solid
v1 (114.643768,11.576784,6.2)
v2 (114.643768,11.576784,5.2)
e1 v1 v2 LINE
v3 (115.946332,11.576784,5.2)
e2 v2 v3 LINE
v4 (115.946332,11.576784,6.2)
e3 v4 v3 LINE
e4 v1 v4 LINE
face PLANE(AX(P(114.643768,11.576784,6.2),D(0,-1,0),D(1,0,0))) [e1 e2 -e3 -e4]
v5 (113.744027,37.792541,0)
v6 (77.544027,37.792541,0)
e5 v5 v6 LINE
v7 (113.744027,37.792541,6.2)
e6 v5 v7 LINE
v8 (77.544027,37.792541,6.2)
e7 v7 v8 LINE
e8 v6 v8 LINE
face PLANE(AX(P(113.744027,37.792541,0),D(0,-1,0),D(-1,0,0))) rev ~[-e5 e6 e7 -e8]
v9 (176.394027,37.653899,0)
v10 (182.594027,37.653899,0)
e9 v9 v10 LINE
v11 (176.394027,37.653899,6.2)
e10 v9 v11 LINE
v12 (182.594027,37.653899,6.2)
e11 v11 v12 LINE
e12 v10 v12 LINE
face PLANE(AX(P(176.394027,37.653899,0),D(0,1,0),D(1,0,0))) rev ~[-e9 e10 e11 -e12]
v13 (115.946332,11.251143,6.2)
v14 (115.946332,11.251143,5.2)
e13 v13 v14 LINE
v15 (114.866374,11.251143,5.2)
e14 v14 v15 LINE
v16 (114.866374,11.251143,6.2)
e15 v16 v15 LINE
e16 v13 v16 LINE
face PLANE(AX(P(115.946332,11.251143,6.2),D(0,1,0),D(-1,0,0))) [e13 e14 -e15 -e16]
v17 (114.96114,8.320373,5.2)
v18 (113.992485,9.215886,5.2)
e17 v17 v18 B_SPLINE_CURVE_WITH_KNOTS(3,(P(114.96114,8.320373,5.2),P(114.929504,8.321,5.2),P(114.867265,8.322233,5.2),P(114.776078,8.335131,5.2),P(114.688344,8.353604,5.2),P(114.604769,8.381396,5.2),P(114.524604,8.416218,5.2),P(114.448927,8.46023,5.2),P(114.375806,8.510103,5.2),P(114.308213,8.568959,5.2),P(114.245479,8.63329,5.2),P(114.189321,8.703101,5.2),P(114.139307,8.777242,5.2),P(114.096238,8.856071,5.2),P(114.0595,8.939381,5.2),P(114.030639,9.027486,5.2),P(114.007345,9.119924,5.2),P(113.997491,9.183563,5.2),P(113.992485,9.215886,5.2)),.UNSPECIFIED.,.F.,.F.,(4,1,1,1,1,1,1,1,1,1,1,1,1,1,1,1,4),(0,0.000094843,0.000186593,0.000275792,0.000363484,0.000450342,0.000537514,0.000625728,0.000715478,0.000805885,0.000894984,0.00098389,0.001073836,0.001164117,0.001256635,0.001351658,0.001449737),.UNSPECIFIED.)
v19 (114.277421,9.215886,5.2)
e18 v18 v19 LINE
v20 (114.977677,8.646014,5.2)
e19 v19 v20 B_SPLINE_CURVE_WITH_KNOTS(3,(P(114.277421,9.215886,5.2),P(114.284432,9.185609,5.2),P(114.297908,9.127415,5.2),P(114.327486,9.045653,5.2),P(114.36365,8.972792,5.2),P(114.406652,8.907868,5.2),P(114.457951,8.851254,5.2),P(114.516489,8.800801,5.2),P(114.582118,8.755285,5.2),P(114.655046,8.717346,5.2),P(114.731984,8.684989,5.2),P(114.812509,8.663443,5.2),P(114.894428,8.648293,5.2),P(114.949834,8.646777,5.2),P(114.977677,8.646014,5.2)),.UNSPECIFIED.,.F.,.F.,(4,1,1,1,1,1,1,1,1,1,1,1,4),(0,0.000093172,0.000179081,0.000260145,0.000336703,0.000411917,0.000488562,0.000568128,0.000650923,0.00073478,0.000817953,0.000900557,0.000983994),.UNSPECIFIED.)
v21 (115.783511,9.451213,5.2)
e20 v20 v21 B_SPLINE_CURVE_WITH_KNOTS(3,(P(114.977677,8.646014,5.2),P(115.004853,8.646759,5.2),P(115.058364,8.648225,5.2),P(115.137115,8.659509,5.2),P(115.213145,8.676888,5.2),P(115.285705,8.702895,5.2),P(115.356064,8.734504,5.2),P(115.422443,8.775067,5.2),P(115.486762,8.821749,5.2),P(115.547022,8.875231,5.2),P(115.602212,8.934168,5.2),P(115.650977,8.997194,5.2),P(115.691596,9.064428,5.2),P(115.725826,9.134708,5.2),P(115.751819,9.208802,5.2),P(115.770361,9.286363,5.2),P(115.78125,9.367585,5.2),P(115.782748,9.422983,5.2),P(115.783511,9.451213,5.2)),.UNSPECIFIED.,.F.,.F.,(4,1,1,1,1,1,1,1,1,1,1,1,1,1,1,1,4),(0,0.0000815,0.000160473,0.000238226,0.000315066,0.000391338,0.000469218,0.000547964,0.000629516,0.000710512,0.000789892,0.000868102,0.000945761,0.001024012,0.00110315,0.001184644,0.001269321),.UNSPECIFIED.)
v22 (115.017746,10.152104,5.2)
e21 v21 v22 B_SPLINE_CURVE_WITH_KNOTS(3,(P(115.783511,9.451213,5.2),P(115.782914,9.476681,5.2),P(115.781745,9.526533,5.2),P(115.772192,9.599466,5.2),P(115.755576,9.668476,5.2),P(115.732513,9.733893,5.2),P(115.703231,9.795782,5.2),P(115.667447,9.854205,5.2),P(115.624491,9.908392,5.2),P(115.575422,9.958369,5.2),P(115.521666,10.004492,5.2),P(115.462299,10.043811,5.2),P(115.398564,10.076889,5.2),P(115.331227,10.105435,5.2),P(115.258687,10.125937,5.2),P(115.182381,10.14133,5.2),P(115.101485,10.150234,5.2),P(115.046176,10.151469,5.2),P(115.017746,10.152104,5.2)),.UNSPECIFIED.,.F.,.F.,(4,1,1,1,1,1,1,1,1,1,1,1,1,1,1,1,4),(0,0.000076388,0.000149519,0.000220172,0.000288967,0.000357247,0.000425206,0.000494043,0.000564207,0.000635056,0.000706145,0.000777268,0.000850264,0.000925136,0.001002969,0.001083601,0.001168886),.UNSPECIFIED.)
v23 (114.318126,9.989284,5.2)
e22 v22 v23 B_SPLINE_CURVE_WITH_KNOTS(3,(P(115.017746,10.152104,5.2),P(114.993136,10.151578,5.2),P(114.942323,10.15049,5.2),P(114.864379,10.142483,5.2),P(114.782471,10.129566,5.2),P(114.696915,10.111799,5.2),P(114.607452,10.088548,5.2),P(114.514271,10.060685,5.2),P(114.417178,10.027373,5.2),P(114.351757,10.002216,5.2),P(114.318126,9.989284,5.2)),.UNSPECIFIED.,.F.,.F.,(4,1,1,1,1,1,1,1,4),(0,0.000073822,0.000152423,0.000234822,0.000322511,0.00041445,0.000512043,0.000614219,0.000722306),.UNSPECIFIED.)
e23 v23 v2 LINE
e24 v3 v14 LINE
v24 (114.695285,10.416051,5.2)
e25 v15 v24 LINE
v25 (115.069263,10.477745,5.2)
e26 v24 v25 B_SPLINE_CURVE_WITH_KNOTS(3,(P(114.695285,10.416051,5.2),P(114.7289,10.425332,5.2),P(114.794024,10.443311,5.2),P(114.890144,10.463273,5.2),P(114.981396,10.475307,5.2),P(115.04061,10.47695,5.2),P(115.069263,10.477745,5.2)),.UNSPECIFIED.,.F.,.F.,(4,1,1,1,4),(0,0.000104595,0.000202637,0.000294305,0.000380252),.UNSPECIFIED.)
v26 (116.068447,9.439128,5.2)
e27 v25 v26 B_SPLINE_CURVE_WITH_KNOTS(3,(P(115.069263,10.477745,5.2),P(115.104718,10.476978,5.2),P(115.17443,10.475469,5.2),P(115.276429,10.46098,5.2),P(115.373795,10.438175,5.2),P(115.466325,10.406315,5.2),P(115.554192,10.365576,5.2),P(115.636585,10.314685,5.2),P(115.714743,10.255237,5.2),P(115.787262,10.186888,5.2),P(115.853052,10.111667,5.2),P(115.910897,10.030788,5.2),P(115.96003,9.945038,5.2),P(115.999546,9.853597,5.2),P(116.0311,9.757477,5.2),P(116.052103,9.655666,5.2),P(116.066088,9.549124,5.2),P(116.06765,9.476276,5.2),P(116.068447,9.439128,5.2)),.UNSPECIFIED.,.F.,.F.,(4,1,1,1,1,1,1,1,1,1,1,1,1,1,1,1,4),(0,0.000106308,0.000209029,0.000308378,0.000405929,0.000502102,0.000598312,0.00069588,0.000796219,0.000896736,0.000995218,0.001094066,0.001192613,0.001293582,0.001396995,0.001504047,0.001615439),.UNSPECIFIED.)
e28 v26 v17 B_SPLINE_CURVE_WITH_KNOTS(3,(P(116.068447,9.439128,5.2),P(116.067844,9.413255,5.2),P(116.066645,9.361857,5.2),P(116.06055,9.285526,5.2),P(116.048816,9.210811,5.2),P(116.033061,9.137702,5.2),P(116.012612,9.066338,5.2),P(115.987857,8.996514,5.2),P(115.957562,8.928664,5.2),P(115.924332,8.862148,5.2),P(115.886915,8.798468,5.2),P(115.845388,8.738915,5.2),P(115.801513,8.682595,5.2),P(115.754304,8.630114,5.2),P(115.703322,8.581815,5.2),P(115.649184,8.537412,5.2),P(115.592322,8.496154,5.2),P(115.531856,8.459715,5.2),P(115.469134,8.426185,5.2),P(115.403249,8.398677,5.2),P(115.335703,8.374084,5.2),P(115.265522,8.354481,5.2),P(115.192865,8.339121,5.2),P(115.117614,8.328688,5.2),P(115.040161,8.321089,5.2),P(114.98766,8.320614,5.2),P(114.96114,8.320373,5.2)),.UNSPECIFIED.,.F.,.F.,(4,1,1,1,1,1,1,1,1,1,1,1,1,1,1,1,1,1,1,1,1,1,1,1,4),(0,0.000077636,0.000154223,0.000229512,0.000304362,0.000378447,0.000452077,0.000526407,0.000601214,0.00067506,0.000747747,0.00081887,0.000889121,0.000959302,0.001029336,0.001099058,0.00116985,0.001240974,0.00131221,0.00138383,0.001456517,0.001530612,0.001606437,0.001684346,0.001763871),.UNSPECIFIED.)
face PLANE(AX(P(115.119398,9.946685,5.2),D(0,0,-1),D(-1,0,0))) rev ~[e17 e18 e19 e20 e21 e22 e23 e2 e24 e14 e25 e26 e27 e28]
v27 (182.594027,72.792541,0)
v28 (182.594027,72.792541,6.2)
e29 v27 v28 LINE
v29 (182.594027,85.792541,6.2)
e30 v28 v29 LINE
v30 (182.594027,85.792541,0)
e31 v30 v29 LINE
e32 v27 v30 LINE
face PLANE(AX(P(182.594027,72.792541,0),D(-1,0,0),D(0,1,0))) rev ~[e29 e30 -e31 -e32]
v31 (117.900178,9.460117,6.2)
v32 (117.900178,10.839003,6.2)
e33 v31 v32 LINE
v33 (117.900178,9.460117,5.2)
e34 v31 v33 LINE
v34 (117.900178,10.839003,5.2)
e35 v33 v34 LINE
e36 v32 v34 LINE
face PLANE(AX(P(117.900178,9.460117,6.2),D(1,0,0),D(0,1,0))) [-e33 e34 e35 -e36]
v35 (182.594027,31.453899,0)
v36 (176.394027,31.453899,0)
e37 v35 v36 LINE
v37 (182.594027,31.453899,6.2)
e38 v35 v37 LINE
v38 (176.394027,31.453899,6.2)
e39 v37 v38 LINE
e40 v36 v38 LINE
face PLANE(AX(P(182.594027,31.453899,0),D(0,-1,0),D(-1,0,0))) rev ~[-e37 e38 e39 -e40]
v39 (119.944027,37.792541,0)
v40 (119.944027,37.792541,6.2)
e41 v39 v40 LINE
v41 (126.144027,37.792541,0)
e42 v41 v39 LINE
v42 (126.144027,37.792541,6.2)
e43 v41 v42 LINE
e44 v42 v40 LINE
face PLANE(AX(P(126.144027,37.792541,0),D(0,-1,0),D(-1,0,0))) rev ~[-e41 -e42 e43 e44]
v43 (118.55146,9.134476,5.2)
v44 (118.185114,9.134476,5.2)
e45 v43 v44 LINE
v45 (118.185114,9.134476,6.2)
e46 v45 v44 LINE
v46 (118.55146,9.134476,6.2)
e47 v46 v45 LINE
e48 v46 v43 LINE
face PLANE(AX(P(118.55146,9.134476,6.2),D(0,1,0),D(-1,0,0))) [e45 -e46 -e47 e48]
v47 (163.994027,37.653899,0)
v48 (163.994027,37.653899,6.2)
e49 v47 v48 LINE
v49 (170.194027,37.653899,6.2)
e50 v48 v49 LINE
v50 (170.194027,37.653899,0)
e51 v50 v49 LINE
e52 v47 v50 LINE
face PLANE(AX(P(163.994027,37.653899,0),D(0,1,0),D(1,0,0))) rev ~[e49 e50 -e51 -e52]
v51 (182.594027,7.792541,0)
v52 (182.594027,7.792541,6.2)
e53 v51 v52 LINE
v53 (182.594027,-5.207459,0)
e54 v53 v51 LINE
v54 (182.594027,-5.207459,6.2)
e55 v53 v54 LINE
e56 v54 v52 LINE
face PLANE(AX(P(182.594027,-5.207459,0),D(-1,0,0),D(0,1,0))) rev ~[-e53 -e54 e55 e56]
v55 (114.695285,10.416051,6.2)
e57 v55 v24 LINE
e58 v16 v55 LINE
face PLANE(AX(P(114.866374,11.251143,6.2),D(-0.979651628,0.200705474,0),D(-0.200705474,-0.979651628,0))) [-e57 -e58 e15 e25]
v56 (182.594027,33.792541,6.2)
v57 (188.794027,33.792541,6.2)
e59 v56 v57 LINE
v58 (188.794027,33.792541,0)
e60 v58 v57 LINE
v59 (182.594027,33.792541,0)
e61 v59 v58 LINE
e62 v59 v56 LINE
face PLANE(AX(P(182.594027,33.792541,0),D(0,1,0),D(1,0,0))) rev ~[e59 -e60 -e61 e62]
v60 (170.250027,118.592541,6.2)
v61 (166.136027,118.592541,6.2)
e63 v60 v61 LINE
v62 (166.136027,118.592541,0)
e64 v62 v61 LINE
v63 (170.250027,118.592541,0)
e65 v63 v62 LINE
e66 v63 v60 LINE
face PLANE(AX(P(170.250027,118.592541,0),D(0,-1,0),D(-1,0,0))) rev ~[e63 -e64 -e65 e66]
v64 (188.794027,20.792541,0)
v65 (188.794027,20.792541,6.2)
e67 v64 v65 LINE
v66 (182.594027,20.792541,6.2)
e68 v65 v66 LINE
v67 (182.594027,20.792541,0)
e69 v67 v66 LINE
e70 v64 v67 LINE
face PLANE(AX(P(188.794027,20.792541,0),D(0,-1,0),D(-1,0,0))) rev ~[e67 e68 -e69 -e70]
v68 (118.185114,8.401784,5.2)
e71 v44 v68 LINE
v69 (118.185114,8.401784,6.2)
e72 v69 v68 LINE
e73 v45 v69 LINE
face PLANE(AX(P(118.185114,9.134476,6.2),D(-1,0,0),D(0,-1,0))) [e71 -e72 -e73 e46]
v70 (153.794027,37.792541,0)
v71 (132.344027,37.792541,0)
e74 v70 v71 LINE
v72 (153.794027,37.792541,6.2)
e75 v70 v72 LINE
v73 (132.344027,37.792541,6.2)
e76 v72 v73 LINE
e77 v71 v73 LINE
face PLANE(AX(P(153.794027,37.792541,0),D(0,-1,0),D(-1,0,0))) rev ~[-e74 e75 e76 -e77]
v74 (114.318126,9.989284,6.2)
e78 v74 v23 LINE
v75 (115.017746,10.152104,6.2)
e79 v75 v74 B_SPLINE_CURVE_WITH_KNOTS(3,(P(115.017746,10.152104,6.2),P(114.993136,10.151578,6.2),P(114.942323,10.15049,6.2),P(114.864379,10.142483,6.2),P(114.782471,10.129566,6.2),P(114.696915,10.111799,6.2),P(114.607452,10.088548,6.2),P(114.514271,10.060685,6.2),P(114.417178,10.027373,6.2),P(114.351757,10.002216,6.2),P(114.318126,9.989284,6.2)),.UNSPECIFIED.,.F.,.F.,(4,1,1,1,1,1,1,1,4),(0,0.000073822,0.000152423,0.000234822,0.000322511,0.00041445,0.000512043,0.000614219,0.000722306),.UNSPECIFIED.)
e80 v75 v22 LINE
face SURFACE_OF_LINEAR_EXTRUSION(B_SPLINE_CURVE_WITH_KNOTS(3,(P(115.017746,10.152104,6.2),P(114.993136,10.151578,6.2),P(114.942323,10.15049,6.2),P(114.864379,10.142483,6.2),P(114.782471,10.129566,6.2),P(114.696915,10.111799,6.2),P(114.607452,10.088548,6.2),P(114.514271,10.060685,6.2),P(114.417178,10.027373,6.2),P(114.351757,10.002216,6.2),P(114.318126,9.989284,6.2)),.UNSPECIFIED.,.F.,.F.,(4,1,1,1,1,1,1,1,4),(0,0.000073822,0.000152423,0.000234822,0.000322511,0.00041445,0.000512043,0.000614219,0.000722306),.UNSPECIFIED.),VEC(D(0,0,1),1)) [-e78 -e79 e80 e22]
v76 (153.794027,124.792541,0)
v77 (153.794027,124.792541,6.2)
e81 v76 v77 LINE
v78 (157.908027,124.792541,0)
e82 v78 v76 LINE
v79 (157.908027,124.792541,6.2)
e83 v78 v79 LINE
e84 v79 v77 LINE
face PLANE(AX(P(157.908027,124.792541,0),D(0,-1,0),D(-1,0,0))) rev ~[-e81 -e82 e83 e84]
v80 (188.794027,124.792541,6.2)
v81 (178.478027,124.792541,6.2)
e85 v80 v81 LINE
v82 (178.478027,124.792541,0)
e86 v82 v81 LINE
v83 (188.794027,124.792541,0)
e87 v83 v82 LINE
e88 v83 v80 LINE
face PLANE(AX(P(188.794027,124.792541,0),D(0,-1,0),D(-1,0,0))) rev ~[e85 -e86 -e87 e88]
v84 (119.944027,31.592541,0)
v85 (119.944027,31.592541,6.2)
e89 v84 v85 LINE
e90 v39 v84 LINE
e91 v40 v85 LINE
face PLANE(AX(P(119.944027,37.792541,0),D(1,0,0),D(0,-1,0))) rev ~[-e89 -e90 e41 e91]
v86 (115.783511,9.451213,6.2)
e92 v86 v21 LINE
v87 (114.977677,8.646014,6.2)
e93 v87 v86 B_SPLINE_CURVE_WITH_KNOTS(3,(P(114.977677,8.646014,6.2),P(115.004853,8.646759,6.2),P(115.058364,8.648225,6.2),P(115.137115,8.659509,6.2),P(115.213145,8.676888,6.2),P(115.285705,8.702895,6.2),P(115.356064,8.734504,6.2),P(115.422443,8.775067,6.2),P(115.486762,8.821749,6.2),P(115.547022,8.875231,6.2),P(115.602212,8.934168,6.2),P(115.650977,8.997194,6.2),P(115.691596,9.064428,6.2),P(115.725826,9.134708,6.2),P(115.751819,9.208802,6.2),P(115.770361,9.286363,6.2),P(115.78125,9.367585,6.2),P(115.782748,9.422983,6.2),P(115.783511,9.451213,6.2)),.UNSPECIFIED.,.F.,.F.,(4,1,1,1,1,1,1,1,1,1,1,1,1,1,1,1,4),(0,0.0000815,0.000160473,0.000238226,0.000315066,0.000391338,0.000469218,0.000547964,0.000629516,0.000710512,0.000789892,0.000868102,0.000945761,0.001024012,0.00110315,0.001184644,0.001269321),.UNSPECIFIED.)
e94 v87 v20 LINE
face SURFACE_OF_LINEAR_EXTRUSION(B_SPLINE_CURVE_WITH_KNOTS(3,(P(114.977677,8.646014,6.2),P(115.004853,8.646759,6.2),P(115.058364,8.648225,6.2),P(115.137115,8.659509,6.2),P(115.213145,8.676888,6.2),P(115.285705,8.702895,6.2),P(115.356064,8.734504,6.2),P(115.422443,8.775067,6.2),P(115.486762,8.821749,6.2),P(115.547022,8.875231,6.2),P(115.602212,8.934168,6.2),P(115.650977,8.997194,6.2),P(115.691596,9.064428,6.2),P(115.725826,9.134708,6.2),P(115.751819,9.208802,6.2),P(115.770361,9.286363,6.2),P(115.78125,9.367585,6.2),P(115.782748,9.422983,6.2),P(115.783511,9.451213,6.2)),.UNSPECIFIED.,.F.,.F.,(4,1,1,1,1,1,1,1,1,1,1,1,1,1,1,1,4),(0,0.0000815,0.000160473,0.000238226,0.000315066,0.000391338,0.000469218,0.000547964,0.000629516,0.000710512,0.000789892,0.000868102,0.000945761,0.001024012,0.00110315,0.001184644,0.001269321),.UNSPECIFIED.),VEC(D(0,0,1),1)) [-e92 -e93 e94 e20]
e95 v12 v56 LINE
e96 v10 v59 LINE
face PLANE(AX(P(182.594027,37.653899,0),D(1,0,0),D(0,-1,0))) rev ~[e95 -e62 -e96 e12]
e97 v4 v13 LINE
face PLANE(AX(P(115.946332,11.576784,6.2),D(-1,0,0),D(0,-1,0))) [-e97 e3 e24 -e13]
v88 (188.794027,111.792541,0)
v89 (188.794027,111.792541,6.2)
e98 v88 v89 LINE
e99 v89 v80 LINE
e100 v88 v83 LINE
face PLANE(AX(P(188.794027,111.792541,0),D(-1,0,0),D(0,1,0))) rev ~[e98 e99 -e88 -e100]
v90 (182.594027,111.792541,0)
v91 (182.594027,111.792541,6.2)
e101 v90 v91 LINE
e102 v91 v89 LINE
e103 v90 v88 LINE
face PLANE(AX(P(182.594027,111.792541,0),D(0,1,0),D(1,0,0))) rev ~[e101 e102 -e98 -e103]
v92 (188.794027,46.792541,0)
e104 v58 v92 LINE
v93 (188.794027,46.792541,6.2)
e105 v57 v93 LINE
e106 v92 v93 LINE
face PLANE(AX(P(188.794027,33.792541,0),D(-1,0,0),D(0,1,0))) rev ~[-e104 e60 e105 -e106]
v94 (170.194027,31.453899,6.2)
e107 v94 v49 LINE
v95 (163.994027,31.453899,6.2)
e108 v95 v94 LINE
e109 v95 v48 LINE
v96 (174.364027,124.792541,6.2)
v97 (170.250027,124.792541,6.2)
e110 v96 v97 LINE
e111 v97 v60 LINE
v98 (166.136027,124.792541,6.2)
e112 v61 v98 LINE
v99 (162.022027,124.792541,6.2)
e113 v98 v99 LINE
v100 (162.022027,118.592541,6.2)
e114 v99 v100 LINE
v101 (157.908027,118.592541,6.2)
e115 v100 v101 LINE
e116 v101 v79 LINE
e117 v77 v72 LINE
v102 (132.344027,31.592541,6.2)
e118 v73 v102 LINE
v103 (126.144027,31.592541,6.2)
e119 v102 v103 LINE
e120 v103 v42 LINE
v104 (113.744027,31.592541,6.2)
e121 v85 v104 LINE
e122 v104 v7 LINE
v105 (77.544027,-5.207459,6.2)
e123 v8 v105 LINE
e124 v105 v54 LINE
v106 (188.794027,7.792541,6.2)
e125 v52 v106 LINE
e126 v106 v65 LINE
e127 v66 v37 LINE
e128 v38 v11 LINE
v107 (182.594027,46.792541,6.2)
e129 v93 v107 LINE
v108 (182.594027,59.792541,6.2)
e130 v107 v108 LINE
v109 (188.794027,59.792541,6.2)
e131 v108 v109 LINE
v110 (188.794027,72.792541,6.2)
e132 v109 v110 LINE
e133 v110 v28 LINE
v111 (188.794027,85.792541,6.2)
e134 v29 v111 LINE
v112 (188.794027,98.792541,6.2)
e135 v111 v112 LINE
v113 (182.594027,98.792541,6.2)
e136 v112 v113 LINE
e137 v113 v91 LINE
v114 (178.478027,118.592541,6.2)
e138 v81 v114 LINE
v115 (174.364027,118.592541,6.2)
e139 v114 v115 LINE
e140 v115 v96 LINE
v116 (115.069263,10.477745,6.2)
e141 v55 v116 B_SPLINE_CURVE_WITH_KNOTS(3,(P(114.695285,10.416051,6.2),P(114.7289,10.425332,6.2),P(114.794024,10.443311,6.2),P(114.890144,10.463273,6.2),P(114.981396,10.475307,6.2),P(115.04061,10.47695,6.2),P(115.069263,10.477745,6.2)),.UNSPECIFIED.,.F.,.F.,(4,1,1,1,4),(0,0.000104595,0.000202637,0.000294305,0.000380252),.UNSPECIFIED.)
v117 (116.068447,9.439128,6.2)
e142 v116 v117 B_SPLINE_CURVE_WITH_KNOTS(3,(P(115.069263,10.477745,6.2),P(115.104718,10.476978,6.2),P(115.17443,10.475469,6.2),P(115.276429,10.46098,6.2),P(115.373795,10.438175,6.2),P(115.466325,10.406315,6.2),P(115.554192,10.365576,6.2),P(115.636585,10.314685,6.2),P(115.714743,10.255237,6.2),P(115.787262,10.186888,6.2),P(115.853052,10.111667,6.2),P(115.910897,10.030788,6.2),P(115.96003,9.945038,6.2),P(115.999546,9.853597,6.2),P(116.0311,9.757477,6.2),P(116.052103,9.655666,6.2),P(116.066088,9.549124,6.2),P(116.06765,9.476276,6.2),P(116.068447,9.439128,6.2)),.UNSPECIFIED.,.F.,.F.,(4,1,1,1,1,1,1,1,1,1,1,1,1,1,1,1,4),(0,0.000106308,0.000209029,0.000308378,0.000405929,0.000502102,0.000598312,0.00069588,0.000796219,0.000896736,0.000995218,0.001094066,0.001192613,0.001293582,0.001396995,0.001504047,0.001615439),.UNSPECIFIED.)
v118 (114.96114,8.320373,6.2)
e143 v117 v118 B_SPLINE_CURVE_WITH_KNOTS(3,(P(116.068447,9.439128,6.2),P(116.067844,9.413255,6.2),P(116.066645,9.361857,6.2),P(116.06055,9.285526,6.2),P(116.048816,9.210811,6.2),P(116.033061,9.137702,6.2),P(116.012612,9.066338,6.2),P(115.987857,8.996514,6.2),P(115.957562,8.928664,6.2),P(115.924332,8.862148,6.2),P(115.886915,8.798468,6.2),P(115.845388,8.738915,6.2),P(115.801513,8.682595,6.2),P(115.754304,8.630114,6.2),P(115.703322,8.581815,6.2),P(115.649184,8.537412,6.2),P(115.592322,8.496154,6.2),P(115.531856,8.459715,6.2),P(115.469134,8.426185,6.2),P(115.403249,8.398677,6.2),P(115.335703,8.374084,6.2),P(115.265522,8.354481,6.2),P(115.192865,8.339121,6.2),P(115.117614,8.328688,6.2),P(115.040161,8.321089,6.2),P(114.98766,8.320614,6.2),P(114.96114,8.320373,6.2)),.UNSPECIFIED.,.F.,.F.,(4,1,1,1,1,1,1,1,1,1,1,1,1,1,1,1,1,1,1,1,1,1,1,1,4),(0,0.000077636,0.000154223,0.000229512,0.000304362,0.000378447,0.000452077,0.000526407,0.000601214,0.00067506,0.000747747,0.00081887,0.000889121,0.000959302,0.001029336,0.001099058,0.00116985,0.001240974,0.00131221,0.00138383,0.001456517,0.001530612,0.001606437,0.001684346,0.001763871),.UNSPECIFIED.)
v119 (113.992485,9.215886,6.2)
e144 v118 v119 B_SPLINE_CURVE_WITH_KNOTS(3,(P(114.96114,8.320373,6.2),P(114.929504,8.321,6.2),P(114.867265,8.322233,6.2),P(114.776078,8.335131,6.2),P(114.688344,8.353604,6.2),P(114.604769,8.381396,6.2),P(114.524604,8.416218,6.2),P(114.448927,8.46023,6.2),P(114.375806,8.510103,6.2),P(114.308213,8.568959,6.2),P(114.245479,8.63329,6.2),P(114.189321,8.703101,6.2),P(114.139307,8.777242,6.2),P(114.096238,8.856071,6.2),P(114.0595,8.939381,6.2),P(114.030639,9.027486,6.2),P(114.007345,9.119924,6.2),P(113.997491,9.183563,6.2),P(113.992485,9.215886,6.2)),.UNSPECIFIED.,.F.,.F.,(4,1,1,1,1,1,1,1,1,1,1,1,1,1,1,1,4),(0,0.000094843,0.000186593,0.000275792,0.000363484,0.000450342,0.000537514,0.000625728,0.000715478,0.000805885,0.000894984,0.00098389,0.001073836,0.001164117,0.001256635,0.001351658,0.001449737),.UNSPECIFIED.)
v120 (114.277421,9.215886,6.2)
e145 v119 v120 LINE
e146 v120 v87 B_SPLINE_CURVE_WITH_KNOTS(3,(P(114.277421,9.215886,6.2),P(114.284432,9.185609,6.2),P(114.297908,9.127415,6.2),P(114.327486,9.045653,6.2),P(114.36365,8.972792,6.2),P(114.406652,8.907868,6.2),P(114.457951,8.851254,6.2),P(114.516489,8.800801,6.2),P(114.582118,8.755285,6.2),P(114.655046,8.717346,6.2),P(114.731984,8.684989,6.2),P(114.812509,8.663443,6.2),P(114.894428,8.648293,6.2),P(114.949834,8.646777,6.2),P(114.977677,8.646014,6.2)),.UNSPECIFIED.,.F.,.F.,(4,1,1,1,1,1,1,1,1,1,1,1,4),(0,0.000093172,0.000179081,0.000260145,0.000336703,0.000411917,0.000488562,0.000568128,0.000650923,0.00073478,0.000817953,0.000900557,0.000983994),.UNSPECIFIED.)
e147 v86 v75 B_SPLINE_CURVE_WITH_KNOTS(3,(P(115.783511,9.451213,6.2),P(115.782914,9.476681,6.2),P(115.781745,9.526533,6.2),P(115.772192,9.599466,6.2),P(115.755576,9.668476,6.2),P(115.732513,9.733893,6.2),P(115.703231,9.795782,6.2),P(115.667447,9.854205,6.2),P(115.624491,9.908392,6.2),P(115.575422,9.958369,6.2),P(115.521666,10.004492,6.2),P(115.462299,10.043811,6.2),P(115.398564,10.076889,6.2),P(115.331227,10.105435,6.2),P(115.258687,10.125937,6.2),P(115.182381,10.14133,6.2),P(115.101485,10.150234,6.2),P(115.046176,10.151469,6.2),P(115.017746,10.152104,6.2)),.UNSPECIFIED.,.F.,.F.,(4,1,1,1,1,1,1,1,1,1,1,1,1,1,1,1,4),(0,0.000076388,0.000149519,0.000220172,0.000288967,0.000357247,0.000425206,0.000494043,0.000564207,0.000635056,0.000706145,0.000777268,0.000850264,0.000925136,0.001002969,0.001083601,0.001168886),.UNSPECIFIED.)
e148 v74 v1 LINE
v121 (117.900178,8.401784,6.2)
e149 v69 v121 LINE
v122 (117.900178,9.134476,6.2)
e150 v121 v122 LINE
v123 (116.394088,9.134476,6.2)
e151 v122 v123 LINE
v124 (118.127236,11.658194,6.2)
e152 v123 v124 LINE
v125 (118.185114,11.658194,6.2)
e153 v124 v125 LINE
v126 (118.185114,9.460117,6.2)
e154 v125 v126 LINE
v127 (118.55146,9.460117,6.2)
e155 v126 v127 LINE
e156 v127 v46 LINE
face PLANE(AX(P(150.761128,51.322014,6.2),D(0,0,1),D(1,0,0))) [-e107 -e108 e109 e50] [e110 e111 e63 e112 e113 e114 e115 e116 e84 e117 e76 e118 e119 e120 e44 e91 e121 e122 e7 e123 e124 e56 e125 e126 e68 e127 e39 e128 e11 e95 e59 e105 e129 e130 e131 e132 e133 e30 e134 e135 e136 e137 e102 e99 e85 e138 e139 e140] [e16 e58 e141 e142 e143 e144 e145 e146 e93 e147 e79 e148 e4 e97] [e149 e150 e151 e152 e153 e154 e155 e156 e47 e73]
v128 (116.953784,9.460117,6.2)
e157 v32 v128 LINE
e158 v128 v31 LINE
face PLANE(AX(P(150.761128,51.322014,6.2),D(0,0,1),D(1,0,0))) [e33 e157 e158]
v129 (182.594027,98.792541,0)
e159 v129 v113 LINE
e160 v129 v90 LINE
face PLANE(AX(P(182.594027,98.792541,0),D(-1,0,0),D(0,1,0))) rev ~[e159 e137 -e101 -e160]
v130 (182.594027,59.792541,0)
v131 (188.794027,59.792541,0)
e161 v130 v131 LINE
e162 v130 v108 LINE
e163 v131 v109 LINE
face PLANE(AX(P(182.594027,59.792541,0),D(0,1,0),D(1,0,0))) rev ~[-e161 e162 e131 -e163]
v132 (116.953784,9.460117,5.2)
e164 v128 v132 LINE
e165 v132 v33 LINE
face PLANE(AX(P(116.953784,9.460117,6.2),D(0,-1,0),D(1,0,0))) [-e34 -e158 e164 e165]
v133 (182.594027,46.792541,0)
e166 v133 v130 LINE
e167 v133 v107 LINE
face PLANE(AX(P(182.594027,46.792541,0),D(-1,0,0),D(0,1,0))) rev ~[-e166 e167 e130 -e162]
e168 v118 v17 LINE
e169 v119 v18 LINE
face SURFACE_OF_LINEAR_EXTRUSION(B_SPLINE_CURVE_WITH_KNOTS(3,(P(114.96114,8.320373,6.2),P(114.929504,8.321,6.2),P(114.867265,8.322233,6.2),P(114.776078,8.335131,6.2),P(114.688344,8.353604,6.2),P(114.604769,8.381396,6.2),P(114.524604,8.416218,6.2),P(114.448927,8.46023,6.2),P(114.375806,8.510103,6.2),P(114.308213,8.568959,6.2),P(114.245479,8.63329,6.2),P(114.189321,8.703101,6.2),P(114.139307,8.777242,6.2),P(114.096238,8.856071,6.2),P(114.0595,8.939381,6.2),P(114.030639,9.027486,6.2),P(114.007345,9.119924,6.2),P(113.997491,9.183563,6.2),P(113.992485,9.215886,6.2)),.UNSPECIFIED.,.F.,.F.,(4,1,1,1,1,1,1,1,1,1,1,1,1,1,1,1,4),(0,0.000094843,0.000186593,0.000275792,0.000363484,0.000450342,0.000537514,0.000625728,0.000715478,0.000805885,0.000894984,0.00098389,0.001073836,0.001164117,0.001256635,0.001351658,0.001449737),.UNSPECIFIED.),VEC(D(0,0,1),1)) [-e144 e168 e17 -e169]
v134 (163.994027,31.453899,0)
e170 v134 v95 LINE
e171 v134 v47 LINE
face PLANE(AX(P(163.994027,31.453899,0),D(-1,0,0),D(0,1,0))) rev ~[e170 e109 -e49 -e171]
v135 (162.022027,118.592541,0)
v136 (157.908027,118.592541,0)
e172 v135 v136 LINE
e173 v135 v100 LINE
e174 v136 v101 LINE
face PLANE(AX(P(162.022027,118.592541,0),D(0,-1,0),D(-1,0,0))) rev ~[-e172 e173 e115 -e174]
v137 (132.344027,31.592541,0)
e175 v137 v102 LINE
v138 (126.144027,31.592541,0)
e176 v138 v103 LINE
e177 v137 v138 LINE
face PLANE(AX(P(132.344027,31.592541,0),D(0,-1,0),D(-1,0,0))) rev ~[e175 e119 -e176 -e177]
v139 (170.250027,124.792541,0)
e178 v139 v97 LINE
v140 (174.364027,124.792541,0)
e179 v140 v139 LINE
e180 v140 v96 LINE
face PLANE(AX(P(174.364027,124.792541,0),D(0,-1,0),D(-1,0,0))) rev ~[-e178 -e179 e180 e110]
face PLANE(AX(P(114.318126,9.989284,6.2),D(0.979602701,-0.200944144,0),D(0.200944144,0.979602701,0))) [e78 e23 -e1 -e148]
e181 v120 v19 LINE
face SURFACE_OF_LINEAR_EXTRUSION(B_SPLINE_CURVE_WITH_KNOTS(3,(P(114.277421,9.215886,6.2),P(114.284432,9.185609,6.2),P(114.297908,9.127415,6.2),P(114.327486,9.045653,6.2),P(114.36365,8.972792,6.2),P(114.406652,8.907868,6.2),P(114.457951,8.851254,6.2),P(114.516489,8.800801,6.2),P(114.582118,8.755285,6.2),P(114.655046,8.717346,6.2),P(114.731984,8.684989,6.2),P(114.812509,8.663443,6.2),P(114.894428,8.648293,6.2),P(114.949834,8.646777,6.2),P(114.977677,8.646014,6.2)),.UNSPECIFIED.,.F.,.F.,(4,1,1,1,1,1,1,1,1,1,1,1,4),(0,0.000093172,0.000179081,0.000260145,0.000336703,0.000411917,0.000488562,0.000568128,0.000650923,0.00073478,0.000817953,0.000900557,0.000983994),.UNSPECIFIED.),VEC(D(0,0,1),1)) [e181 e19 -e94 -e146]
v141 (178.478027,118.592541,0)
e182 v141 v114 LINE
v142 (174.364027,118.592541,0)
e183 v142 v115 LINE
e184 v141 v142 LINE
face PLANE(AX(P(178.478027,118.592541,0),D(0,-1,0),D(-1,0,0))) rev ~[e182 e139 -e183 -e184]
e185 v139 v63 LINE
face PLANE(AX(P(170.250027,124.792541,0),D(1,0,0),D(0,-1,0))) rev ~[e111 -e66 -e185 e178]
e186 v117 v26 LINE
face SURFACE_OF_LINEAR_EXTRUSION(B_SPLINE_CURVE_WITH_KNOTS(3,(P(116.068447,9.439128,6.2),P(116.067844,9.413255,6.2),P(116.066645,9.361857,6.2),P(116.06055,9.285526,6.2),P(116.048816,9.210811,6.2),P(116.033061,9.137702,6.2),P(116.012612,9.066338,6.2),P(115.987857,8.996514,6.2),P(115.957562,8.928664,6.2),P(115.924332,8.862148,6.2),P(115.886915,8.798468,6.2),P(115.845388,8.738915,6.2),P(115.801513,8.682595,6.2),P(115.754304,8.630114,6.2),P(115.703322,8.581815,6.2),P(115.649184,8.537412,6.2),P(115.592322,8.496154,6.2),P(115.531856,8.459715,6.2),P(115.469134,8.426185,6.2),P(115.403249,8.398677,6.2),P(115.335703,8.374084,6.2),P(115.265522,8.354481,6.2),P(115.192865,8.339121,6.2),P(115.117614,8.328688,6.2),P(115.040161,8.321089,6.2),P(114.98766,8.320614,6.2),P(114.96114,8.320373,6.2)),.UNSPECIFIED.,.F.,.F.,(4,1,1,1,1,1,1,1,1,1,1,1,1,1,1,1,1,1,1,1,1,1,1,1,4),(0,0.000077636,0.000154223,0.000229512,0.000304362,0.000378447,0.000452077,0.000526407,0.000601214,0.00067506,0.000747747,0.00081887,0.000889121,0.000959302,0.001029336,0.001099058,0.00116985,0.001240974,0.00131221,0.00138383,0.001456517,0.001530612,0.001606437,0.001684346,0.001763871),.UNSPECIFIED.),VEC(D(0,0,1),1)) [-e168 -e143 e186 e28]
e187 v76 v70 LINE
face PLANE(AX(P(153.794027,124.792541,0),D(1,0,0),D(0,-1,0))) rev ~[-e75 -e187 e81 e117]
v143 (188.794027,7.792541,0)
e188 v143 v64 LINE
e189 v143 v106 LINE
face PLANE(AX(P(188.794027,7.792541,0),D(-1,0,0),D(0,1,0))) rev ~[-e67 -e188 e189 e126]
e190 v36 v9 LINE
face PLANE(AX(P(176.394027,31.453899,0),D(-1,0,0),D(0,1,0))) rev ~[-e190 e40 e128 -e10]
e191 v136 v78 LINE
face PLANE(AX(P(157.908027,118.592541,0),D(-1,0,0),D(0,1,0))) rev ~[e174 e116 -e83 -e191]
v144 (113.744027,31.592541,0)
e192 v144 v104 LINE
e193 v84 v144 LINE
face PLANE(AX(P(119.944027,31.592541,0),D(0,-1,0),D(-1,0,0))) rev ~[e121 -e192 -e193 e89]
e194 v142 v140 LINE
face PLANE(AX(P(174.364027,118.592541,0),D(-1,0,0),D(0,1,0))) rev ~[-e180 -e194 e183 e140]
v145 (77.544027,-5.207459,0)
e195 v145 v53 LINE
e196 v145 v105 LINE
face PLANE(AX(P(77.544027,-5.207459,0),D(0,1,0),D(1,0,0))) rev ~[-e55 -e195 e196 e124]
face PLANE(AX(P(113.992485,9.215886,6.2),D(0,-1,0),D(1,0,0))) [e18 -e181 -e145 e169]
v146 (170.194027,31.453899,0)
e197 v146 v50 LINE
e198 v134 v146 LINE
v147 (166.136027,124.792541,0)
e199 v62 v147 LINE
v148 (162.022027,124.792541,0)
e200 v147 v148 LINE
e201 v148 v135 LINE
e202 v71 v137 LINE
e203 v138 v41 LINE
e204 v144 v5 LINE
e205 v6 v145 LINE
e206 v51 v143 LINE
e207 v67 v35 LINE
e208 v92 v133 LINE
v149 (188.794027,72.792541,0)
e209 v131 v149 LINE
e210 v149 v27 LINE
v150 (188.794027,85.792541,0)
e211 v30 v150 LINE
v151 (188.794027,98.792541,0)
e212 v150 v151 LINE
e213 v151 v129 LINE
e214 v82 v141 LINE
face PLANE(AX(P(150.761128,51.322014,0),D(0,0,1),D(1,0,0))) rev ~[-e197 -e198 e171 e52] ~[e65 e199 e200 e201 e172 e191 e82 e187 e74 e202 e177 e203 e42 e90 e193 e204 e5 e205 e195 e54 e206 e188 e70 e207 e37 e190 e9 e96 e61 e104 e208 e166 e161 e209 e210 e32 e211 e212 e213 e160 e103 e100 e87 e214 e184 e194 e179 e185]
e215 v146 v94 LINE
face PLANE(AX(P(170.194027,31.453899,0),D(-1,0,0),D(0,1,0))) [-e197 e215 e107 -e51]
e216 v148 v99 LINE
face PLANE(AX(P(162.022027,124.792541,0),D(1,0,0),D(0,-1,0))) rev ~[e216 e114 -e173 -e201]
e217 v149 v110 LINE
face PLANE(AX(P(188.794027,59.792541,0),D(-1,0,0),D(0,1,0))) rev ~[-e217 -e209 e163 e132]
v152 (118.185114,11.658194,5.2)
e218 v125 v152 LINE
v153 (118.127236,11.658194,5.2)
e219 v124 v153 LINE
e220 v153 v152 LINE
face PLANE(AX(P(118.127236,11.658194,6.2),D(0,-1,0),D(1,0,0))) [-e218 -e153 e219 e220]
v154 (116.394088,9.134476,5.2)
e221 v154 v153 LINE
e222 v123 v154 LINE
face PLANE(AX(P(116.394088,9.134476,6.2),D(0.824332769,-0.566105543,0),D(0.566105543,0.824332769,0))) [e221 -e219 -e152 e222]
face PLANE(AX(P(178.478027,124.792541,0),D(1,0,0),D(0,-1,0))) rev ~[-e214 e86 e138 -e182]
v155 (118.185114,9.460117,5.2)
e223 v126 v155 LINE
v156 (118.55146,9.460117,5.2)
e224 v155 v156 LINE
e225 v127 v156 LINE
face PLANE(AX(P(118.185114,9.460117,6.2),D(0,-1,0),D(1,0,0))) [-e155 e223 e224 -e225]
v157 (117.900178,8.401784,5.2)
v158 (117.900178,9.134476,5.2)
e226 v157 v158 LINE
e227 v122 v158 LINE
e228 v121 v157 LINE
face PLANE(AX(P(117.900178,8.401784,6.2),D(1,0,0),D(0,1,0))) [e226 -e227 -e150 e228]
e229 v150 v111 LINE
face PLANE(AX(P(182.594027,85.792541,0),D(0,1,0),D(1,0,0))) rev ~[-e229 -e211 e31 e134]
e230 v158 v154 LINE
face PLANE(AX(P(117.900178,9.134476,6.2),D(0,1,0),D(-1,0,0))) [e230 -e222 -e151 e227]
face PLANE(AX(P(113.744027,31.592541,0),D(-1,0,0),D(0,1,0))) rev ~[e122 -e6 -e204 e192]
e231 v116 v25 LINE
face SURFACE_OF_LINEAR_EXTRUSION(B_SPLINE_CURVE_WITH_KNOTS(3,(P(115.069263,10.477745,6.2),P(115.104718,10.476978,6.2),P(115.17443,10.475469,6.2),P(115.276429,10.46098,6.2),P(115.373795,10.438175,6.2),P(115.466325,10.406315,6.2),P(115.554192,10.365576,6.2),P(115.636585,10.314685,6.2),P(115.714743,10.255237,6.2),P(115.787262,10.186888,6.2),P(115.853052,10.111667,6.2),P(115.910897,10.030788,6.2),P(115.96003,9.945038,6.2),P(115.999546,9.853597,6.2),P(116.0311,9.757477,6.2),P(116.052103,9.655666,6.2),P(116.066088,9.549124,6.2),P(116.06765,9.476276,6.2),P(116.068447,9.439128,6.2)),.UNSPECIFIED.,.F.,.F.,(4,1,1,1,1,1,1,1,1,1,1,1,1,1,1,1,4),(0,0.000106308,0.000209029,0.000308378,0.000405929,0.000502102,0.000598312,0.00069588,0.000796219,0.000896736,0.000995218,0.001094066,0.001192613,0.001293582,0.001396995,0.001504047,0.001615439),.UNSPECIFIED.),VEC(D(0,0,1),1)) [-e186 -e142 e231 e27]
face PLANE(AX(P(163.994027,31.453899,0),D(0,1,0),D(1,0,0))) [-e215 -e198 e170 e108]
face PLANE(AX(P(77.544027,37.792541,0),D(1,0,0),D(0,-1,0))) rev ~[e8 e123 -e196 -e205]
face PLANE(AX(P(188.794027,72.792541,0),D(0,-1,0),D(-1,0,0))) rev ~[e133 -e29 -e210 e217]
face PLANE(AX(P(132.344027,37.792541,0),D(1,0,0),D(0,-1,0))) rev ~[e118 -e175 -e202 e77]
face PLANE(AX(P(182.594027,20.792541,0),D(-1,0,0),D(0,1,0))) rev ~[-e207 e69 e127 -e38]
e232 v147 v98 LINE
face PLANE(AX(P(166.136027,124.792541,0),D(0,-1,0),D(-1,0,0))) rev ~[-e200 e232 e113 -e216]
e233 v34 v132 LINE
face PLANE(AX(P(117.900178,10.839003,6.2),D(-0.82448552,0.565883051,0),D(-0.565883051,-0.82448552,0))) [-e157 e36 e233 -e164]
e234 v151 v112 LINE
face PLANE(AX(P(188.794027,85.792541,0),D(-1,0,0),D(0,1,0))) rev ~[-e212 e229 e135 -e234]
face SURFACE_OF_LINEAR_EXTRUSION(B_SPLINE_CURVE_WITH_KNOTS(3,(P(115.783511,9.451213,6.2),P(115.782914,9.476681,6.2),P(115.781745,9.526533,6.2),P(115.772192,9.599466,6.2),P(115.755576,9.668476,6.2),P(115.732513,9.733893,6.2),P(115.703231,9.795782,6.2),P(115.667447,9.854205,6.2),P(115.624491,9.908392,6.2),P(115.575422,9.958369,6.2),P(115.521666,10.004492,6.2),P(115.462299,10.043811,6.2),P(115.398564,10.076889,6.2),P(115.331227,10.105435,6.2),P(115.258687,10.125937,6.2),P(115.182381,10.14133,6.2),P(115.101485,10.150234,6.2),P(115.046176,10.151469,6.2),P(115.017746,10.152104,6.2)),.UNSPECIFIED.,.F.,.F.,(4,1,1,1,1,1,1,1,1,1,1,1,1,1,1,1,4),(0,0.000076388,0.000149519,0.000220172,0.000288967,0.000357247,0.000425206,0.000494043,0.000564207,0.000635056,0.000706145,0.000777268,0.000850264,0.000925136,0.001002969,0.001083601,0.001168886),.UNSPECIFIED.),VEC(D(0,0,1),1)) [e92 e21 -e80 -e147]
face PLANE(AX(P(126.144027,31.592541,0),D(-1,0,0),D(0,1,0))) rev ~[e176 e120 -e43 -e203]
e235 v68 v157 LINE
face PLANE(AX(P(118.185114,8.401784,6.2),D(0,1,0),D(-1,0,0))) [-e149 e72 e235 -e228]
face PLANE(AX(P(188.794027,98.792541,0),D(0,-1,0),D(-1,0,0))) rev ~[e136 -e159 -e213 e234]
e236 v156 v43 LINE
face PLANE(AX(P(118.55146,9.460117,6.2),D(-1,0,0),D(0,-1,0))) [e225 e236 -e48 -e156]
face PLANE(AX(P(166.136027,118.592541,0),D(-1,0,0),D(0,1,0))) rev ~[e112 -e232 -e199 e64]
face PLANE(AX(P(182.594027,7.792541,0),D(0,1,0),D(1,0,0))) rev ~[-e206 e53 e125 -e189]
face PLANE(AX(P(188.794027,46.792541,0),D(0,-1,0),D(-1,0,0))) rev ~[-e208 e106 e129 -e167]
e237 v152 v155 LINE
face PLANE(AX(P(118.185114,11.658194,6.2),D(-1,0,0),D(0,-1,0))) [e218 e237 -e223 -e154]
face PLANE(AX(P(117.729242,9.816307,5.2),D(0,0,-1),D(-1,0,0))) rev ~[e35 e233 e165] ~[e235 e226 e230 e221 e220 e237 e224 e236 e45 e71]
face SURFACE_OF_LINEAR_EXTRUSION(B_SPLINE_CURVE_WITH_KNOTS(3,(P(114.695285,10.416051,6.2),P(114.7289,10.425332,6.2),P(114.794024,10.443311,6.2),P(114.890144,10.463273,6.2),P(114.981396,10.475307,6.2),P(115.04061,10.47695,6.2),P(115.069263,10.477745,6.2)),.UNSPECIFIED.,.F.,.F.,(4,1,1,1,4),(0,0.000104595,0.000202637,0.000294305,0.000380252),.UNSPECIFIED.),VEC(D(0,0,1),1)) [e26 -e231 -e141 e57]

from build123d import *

# Parameters (mm, degrees)
SKETCH6_W           = 6.2
SKETCH6_H           = 6.2
BOSS_EXTRUDE4_DEPTH = 6.2
CUT_EXTRUDE3_DEPTH  = 1


with BuildPart() as part:
    # Sketch6 → Boss-Extrude4 (new body)
    with BuildSketch(Plane.XY):
        Polygon((157.908027241, 124.79254071), (153.794027241, 124.79254071), (153.794027241, 37.79254071), (132.344027241, 37.79254071), (132.344027241, 31.59254071), (126.144027241, 31.59254071), (126.144027241, 37.79254071), (119.944027241, 37.79254071), (119.944027241, 31.59254071), (113.744027241, 31.59254071), (113.744027241, 37.79254071), (77.544027241, 37.79254071), (77.544027241, -5.20745929), (182.594027241, -5.20745929), (182.594027241, 7.79254071), (188.794027241, 7.79254071), (188.794027241, 20.79254071), (182.594027241, 20.79254071), (182.594027241, 31.453899243), (176.394027241, 31.453899243), (176.394027241, 37.653899243), (182.594027241, 37.653899243), (182.594027241, 33.79254071), (188.794027241, 33.79254071), (188.794027241, 46.79254071), (182.594027241, 46.79254071), (182.594027241, 59.79254071), (188.794027241, 59.79254071), (188.794027241, 72.79254071), (182.594027241, 72.79254071), (182.594027241, 85.79254071), (188.794027241, 85.79254071), (188.794027241, 98.79254071), (182.594027241, 98.79254071), (182.594027241, 111.79254071), (188.794027241, 111.79254071), (188.794027241, 124.79254071), (178.478027241, 124.79254071), (178.478027241, 118.59254071), (174.364027241, 118.59254071), (174.364027241, 124.79254071), (170.250027241, 124.79254071), (170.250027241, 118.59254071), (166.136027241, 118.59254071), (166.136027241, 124.79254071), (162.022027241, 124.79254071), (162.022027241, 118.59254071), (157.908027241, 118.59254071), align=None)
        with Locations((167.094027241, 34.553899243)):
            Rectangle(SKETCH6_W, SKETCH6_H, mode=Mode.SUBTRACT)
    extrude(amount=BOSS_EXTRUDE4_DEPTH)

    # Sketch7 → Cut-Extrude3 (cut)
    with BuildSketch(Plane.XY.offset(6.2)):
        with BuildLine():
            Line((115.946331614, 11.576783669), (115.946331614, 11.251142644))
            Line((115.946331614, 11.251142644), (114.866373682, 11.251142644))
            Line((114.866373682, 11.251142644), (114.69528494, 10.416051498))
            add(Edge.make_bspline(
                [(114.69528494, 10.416051498), (114.728899911, 10.425331816), (114.794023603, 10.443310964), (114.890144334, 10.463273342), (114.981395832, 10.475306994), (115.040609919, 10.476950112), (115.069263305, 10.477745208)],
                knots=[0, 0, 0, 0, 0.000104595, 0.000202637, 0.000294305, 0.000380252, 0.000380252, 0.000380252, 0.000380252], degree=3))
            add(Edge.make_bspline(
                [(115.069263305, 10.477745208), (115.10471784, 10.476977823), (115.174430315, 10.475468954), (115.276428503, 10.460980204), (115.37379477, 10.43817471), (115.466325492, 10.40631538), (115.554191848, 10.365575836), (115.636585422, 10.314685176), (115.714742957, 10.255237083), (115.78726231, 10.186888393), (115.853052218, 10.111666641), (115.910897081, 10.030787715), (115.960030287, 9.945037622), (115.999546115, 9.853597069), (116.031100475, 9.75747698), (116.052102642, 9.655665995), (116.0660878, 9.549123772), (116.06765025, 9.476276054), (116.068446999, 9.439128421)],
                knots=[0, 0, 0, 0, 0.000106308, 0.000209029, 0.000308378, 0.000405929, 0.000502102, 0.000598312, 0.00069588, 0.000796219, 0.000896736, 0.000995218, 0.001094066, 0.001192613, 0.001293582, 0.001396995, 0.001504047, 0.001615439, 0.001615439, 0.001615439, 0.001615439], degree=3))
            add(Edge.make_bspline(
                [(116.068446999, 9.439128421), (116.067843681, 9.413254692), (116.066645197, 9.361856897), (116.060550479, 9.285526086), (116.048815936, 9.21081123), (116.033060929, 9.137702418), (116.012611736, 9.066338059), (115.987856666, 8.996513887), (115.957561698, 8.928664494), (115.924331807, 8.862147885), (115.886915359, 8.798467811), (115.845387713, 8.738914802), (115.801513304, 8.682595489), (115.754304332, 8.630113888), (115.703322001, 8.581814865), (115.649183746, 8.537411781), (115.592321565, 8.496153717), (115.531855738, 8.459715426), (115.469133628, 8.426184744), (115.40324946, 8.398676964), (115.335702967, 8.374083842), (115.265521973, 8.354480913), (115.192865443, 8.339120668), (115.117613611, 8.32868798), (115.040161146, 8.321089354), (114.987660242, 8.320613688), (114.961140308, 8.320373413)],
                knots=[0, 0, 0, 0, 7.7636e-05, 0.000154223, 0.000229512, 0.000304362, 0.000378447, 0.000452077, 0.000526407, 0.000601214, 0.00067506, 0.000747747, 0.00081887, 0.000889121, 0.000959302, 0.001029336, 0.001099058, 0.00116985, 0.001240974, 0.00131221, 0.00138383, 0.001456517, 0.001530612, 0.001606437, 0.001684346, 0.001763871, 0.001763871, 0.001763871, 0.001763871], degree=3))
            add(Edge.make_bspline(
                [(114.961140308, 8.320373413), (114.929504444, 8.321000102), (114.867264619, 8.322233038), (114.776078105, 8.335131235), (114.688344141, 8.353604216), (114.604768978, 8.38139569), (114.524603617, 8.41621845), (114.448927295, 8.460229548), (114.375806341, 8.51010345), (114.308213279, 8.568959198), (114.245478804, 8.633289853), (114.189320757, 8.703101427), (114.139306727, 8.777241707), (114.096237628, 8.856070747), (114.059500137, 8.939381414), (114.030639398, 9.02748585), (114.007345461, 9.119923711), (113.997490787, 9.183562967), (113.99248546, 9.215886233)],
                knots=[0, 0, 0, 0, 9.4843e-05, 0.000186593, 0.000275792, 0.000363484, 0.000450342, 0.000537514, 0.000625728, 0.000715478, 0.000805885, 0.000894984, 0.00098389, 0.001073836, 0.001164117, 0.001256635, 0.001351658, 0.001449737, 0.001449737, 0.001449737, 0.001449737], degree=3))
            Line((113.99248546, 9.215886233), (114.277421358, 9.215886233))
            add(Edge.make_bspline(
                [(114.277421358, 9.215886233), (114.284432264, 9.185609023), (114.297907613, 9.127414543), (114.327485686, 9.045652541), (114.36364973, 8.972791531), (114.406652246, 8.907867695), (114.457951202, 8.851253818), (114.516488613, 8.800801198), (114.582118333, 8.755285188), (114.655046477, 8.717345963), (114.731984056, 8.684989308), (114.812508596, 8.663443128), (114.894427539, 8.648293032), (114.949834347, 8.646776506), (114.977676767, 8.646014439)],
                knots=[0, 0, 0, 0, 9.3172e-05, 0.000179081, 0.000260145, 0.000336703, 0.000411917, 0.000488562, 0.000568128, 0.000650923, 0.00073478, 0.000817953, 0.000900557, 0.000983994, 0.000983994, 0.000983994, 0.000983994], degree=3))
            add(Edge.make_bspline(
                [(114.977676767, 8.646014439), (115.004853355, 8.646759001), (115.058364281, 8.648225052), (115.137114611, 8.659509013), (115.213144861, 8.676887667), (115.28570482, 8.702895321), (115.356064217, 8.734504458), (115.42244328, 8.77506742), (115.486762318, 8.821749008), (115.547022125, 8.875231094), (115.602212197, 8.934167888), (115.650976678, 8.997193809), (115.691595736, 9.064428377), (115.725825963, 9.134707595), (115.751818598, 9.208801714), (115.770361488, 9.286363495), (115.781249978, 9.367584512), (115.782747834, 9.4229831), (115.783511101, 9.451212756)],
                knots=[0, 0, 0, 0, 8.15e-05, 0.000160473, 0.000238226, 0.000315066, 0.000391338, 0.000469218, 0.000547964, 0.000629516, 0.000710512, 0.000789892, 0.000868102, 0.000945761, 0.001024012, 0.00110315, 0.001184644, 0.001269321, 0.001269321, 0.001269321, 0.001269321], degree=3))
            add(Edge.make_bspline(
                [(115.783511101, 9.451212756), (115.782913767, 9.476681473), (115.781744568, 9.526532864), (115.772191837, 9.59946643), (115.755575726, 9.668475547), (115.732512635, 9.733893459), (115.70323051, 9.795781868), (115.66744707, 9.854204644), (115.624490773, 9.908391764), (115.575421703, 9.95836858), (115.521666194, 10.004492145), (115.46229937, 10.043811424), (115.39856358, 10.076889406), (115.331226729, 10.105435376), (115.258687142, 10.125937481), (115.18238134, 10.141329777), (115.101485326, 10.150233713), (115.046176202, 10.15146914), (115.017745877, 10.152104182)],
                knots=[0, 0, 0, 0, 7.6388e-05, 0.000149519, 0.000220172, 0.000288967, 0.000357247, 0.000425206, 0.000494043, 0.000564207, 0.000635056, 0.000706145, 0.000777268, 0.000850264, 0.000925136, 0.001002969, 0.001083601, 0.001168886, 0.001168886, 0.001168886, 0.001168886], degree=3))
            add(Edge.make_bspline(
                [(115.017745877, 10.152104182), (114.993136063, 10.151577503), (114.942323041, 10.150490044), (114.864378762, 10.142483151), (114.782471271, 10.129566076), (114.69691455, 10.111798552), (114.60745166, 10.088547504), (114.514271397, 10.060685064), (114.417177841, 10.027372965), (114.351756762, 10.002215885), (114.318126486, 9.989283669)],
                knots=[0, 0, 0, 0, 7.3822e-05, 0.000152423, 0.000234822, 0.000322511, 0.00041445, 0.000512043, 0.000614219, 0.000722306, 0.000722306, 0.000722306, 0.000722306], degree=3))
            Line((114.318126486, 9.989283669), (114.643767512, 11.576783669))
            Line((114.643767512, 11.576783669), (115.946331614, 11.576783669))
        make_face()
        Polygon((118.127236061, 11.658193926), (118.185113666, 11.658193926), (118.185113666, 9.460117003), (118.551459819, 9.460117003), (118.551459819, 9.134475977), (118.185113666, 9.134475977), (118.185113666, 8.401783669), (117.900177768, 8.401783669), (117.900177768, 9.134475977), (116.394088025, 9.134475977), align=None)
        Polygon((117.900177768, 9.460117003), (117.900177768, 10.839003221), (116.953783537, 9.460117003), align=None, mode=Mode.SUBTRACT)
    extrude(amount=-CUT_EXTRUDE3_DEPTH, mode=Mode.SUBTRACT)


solid = part.part
